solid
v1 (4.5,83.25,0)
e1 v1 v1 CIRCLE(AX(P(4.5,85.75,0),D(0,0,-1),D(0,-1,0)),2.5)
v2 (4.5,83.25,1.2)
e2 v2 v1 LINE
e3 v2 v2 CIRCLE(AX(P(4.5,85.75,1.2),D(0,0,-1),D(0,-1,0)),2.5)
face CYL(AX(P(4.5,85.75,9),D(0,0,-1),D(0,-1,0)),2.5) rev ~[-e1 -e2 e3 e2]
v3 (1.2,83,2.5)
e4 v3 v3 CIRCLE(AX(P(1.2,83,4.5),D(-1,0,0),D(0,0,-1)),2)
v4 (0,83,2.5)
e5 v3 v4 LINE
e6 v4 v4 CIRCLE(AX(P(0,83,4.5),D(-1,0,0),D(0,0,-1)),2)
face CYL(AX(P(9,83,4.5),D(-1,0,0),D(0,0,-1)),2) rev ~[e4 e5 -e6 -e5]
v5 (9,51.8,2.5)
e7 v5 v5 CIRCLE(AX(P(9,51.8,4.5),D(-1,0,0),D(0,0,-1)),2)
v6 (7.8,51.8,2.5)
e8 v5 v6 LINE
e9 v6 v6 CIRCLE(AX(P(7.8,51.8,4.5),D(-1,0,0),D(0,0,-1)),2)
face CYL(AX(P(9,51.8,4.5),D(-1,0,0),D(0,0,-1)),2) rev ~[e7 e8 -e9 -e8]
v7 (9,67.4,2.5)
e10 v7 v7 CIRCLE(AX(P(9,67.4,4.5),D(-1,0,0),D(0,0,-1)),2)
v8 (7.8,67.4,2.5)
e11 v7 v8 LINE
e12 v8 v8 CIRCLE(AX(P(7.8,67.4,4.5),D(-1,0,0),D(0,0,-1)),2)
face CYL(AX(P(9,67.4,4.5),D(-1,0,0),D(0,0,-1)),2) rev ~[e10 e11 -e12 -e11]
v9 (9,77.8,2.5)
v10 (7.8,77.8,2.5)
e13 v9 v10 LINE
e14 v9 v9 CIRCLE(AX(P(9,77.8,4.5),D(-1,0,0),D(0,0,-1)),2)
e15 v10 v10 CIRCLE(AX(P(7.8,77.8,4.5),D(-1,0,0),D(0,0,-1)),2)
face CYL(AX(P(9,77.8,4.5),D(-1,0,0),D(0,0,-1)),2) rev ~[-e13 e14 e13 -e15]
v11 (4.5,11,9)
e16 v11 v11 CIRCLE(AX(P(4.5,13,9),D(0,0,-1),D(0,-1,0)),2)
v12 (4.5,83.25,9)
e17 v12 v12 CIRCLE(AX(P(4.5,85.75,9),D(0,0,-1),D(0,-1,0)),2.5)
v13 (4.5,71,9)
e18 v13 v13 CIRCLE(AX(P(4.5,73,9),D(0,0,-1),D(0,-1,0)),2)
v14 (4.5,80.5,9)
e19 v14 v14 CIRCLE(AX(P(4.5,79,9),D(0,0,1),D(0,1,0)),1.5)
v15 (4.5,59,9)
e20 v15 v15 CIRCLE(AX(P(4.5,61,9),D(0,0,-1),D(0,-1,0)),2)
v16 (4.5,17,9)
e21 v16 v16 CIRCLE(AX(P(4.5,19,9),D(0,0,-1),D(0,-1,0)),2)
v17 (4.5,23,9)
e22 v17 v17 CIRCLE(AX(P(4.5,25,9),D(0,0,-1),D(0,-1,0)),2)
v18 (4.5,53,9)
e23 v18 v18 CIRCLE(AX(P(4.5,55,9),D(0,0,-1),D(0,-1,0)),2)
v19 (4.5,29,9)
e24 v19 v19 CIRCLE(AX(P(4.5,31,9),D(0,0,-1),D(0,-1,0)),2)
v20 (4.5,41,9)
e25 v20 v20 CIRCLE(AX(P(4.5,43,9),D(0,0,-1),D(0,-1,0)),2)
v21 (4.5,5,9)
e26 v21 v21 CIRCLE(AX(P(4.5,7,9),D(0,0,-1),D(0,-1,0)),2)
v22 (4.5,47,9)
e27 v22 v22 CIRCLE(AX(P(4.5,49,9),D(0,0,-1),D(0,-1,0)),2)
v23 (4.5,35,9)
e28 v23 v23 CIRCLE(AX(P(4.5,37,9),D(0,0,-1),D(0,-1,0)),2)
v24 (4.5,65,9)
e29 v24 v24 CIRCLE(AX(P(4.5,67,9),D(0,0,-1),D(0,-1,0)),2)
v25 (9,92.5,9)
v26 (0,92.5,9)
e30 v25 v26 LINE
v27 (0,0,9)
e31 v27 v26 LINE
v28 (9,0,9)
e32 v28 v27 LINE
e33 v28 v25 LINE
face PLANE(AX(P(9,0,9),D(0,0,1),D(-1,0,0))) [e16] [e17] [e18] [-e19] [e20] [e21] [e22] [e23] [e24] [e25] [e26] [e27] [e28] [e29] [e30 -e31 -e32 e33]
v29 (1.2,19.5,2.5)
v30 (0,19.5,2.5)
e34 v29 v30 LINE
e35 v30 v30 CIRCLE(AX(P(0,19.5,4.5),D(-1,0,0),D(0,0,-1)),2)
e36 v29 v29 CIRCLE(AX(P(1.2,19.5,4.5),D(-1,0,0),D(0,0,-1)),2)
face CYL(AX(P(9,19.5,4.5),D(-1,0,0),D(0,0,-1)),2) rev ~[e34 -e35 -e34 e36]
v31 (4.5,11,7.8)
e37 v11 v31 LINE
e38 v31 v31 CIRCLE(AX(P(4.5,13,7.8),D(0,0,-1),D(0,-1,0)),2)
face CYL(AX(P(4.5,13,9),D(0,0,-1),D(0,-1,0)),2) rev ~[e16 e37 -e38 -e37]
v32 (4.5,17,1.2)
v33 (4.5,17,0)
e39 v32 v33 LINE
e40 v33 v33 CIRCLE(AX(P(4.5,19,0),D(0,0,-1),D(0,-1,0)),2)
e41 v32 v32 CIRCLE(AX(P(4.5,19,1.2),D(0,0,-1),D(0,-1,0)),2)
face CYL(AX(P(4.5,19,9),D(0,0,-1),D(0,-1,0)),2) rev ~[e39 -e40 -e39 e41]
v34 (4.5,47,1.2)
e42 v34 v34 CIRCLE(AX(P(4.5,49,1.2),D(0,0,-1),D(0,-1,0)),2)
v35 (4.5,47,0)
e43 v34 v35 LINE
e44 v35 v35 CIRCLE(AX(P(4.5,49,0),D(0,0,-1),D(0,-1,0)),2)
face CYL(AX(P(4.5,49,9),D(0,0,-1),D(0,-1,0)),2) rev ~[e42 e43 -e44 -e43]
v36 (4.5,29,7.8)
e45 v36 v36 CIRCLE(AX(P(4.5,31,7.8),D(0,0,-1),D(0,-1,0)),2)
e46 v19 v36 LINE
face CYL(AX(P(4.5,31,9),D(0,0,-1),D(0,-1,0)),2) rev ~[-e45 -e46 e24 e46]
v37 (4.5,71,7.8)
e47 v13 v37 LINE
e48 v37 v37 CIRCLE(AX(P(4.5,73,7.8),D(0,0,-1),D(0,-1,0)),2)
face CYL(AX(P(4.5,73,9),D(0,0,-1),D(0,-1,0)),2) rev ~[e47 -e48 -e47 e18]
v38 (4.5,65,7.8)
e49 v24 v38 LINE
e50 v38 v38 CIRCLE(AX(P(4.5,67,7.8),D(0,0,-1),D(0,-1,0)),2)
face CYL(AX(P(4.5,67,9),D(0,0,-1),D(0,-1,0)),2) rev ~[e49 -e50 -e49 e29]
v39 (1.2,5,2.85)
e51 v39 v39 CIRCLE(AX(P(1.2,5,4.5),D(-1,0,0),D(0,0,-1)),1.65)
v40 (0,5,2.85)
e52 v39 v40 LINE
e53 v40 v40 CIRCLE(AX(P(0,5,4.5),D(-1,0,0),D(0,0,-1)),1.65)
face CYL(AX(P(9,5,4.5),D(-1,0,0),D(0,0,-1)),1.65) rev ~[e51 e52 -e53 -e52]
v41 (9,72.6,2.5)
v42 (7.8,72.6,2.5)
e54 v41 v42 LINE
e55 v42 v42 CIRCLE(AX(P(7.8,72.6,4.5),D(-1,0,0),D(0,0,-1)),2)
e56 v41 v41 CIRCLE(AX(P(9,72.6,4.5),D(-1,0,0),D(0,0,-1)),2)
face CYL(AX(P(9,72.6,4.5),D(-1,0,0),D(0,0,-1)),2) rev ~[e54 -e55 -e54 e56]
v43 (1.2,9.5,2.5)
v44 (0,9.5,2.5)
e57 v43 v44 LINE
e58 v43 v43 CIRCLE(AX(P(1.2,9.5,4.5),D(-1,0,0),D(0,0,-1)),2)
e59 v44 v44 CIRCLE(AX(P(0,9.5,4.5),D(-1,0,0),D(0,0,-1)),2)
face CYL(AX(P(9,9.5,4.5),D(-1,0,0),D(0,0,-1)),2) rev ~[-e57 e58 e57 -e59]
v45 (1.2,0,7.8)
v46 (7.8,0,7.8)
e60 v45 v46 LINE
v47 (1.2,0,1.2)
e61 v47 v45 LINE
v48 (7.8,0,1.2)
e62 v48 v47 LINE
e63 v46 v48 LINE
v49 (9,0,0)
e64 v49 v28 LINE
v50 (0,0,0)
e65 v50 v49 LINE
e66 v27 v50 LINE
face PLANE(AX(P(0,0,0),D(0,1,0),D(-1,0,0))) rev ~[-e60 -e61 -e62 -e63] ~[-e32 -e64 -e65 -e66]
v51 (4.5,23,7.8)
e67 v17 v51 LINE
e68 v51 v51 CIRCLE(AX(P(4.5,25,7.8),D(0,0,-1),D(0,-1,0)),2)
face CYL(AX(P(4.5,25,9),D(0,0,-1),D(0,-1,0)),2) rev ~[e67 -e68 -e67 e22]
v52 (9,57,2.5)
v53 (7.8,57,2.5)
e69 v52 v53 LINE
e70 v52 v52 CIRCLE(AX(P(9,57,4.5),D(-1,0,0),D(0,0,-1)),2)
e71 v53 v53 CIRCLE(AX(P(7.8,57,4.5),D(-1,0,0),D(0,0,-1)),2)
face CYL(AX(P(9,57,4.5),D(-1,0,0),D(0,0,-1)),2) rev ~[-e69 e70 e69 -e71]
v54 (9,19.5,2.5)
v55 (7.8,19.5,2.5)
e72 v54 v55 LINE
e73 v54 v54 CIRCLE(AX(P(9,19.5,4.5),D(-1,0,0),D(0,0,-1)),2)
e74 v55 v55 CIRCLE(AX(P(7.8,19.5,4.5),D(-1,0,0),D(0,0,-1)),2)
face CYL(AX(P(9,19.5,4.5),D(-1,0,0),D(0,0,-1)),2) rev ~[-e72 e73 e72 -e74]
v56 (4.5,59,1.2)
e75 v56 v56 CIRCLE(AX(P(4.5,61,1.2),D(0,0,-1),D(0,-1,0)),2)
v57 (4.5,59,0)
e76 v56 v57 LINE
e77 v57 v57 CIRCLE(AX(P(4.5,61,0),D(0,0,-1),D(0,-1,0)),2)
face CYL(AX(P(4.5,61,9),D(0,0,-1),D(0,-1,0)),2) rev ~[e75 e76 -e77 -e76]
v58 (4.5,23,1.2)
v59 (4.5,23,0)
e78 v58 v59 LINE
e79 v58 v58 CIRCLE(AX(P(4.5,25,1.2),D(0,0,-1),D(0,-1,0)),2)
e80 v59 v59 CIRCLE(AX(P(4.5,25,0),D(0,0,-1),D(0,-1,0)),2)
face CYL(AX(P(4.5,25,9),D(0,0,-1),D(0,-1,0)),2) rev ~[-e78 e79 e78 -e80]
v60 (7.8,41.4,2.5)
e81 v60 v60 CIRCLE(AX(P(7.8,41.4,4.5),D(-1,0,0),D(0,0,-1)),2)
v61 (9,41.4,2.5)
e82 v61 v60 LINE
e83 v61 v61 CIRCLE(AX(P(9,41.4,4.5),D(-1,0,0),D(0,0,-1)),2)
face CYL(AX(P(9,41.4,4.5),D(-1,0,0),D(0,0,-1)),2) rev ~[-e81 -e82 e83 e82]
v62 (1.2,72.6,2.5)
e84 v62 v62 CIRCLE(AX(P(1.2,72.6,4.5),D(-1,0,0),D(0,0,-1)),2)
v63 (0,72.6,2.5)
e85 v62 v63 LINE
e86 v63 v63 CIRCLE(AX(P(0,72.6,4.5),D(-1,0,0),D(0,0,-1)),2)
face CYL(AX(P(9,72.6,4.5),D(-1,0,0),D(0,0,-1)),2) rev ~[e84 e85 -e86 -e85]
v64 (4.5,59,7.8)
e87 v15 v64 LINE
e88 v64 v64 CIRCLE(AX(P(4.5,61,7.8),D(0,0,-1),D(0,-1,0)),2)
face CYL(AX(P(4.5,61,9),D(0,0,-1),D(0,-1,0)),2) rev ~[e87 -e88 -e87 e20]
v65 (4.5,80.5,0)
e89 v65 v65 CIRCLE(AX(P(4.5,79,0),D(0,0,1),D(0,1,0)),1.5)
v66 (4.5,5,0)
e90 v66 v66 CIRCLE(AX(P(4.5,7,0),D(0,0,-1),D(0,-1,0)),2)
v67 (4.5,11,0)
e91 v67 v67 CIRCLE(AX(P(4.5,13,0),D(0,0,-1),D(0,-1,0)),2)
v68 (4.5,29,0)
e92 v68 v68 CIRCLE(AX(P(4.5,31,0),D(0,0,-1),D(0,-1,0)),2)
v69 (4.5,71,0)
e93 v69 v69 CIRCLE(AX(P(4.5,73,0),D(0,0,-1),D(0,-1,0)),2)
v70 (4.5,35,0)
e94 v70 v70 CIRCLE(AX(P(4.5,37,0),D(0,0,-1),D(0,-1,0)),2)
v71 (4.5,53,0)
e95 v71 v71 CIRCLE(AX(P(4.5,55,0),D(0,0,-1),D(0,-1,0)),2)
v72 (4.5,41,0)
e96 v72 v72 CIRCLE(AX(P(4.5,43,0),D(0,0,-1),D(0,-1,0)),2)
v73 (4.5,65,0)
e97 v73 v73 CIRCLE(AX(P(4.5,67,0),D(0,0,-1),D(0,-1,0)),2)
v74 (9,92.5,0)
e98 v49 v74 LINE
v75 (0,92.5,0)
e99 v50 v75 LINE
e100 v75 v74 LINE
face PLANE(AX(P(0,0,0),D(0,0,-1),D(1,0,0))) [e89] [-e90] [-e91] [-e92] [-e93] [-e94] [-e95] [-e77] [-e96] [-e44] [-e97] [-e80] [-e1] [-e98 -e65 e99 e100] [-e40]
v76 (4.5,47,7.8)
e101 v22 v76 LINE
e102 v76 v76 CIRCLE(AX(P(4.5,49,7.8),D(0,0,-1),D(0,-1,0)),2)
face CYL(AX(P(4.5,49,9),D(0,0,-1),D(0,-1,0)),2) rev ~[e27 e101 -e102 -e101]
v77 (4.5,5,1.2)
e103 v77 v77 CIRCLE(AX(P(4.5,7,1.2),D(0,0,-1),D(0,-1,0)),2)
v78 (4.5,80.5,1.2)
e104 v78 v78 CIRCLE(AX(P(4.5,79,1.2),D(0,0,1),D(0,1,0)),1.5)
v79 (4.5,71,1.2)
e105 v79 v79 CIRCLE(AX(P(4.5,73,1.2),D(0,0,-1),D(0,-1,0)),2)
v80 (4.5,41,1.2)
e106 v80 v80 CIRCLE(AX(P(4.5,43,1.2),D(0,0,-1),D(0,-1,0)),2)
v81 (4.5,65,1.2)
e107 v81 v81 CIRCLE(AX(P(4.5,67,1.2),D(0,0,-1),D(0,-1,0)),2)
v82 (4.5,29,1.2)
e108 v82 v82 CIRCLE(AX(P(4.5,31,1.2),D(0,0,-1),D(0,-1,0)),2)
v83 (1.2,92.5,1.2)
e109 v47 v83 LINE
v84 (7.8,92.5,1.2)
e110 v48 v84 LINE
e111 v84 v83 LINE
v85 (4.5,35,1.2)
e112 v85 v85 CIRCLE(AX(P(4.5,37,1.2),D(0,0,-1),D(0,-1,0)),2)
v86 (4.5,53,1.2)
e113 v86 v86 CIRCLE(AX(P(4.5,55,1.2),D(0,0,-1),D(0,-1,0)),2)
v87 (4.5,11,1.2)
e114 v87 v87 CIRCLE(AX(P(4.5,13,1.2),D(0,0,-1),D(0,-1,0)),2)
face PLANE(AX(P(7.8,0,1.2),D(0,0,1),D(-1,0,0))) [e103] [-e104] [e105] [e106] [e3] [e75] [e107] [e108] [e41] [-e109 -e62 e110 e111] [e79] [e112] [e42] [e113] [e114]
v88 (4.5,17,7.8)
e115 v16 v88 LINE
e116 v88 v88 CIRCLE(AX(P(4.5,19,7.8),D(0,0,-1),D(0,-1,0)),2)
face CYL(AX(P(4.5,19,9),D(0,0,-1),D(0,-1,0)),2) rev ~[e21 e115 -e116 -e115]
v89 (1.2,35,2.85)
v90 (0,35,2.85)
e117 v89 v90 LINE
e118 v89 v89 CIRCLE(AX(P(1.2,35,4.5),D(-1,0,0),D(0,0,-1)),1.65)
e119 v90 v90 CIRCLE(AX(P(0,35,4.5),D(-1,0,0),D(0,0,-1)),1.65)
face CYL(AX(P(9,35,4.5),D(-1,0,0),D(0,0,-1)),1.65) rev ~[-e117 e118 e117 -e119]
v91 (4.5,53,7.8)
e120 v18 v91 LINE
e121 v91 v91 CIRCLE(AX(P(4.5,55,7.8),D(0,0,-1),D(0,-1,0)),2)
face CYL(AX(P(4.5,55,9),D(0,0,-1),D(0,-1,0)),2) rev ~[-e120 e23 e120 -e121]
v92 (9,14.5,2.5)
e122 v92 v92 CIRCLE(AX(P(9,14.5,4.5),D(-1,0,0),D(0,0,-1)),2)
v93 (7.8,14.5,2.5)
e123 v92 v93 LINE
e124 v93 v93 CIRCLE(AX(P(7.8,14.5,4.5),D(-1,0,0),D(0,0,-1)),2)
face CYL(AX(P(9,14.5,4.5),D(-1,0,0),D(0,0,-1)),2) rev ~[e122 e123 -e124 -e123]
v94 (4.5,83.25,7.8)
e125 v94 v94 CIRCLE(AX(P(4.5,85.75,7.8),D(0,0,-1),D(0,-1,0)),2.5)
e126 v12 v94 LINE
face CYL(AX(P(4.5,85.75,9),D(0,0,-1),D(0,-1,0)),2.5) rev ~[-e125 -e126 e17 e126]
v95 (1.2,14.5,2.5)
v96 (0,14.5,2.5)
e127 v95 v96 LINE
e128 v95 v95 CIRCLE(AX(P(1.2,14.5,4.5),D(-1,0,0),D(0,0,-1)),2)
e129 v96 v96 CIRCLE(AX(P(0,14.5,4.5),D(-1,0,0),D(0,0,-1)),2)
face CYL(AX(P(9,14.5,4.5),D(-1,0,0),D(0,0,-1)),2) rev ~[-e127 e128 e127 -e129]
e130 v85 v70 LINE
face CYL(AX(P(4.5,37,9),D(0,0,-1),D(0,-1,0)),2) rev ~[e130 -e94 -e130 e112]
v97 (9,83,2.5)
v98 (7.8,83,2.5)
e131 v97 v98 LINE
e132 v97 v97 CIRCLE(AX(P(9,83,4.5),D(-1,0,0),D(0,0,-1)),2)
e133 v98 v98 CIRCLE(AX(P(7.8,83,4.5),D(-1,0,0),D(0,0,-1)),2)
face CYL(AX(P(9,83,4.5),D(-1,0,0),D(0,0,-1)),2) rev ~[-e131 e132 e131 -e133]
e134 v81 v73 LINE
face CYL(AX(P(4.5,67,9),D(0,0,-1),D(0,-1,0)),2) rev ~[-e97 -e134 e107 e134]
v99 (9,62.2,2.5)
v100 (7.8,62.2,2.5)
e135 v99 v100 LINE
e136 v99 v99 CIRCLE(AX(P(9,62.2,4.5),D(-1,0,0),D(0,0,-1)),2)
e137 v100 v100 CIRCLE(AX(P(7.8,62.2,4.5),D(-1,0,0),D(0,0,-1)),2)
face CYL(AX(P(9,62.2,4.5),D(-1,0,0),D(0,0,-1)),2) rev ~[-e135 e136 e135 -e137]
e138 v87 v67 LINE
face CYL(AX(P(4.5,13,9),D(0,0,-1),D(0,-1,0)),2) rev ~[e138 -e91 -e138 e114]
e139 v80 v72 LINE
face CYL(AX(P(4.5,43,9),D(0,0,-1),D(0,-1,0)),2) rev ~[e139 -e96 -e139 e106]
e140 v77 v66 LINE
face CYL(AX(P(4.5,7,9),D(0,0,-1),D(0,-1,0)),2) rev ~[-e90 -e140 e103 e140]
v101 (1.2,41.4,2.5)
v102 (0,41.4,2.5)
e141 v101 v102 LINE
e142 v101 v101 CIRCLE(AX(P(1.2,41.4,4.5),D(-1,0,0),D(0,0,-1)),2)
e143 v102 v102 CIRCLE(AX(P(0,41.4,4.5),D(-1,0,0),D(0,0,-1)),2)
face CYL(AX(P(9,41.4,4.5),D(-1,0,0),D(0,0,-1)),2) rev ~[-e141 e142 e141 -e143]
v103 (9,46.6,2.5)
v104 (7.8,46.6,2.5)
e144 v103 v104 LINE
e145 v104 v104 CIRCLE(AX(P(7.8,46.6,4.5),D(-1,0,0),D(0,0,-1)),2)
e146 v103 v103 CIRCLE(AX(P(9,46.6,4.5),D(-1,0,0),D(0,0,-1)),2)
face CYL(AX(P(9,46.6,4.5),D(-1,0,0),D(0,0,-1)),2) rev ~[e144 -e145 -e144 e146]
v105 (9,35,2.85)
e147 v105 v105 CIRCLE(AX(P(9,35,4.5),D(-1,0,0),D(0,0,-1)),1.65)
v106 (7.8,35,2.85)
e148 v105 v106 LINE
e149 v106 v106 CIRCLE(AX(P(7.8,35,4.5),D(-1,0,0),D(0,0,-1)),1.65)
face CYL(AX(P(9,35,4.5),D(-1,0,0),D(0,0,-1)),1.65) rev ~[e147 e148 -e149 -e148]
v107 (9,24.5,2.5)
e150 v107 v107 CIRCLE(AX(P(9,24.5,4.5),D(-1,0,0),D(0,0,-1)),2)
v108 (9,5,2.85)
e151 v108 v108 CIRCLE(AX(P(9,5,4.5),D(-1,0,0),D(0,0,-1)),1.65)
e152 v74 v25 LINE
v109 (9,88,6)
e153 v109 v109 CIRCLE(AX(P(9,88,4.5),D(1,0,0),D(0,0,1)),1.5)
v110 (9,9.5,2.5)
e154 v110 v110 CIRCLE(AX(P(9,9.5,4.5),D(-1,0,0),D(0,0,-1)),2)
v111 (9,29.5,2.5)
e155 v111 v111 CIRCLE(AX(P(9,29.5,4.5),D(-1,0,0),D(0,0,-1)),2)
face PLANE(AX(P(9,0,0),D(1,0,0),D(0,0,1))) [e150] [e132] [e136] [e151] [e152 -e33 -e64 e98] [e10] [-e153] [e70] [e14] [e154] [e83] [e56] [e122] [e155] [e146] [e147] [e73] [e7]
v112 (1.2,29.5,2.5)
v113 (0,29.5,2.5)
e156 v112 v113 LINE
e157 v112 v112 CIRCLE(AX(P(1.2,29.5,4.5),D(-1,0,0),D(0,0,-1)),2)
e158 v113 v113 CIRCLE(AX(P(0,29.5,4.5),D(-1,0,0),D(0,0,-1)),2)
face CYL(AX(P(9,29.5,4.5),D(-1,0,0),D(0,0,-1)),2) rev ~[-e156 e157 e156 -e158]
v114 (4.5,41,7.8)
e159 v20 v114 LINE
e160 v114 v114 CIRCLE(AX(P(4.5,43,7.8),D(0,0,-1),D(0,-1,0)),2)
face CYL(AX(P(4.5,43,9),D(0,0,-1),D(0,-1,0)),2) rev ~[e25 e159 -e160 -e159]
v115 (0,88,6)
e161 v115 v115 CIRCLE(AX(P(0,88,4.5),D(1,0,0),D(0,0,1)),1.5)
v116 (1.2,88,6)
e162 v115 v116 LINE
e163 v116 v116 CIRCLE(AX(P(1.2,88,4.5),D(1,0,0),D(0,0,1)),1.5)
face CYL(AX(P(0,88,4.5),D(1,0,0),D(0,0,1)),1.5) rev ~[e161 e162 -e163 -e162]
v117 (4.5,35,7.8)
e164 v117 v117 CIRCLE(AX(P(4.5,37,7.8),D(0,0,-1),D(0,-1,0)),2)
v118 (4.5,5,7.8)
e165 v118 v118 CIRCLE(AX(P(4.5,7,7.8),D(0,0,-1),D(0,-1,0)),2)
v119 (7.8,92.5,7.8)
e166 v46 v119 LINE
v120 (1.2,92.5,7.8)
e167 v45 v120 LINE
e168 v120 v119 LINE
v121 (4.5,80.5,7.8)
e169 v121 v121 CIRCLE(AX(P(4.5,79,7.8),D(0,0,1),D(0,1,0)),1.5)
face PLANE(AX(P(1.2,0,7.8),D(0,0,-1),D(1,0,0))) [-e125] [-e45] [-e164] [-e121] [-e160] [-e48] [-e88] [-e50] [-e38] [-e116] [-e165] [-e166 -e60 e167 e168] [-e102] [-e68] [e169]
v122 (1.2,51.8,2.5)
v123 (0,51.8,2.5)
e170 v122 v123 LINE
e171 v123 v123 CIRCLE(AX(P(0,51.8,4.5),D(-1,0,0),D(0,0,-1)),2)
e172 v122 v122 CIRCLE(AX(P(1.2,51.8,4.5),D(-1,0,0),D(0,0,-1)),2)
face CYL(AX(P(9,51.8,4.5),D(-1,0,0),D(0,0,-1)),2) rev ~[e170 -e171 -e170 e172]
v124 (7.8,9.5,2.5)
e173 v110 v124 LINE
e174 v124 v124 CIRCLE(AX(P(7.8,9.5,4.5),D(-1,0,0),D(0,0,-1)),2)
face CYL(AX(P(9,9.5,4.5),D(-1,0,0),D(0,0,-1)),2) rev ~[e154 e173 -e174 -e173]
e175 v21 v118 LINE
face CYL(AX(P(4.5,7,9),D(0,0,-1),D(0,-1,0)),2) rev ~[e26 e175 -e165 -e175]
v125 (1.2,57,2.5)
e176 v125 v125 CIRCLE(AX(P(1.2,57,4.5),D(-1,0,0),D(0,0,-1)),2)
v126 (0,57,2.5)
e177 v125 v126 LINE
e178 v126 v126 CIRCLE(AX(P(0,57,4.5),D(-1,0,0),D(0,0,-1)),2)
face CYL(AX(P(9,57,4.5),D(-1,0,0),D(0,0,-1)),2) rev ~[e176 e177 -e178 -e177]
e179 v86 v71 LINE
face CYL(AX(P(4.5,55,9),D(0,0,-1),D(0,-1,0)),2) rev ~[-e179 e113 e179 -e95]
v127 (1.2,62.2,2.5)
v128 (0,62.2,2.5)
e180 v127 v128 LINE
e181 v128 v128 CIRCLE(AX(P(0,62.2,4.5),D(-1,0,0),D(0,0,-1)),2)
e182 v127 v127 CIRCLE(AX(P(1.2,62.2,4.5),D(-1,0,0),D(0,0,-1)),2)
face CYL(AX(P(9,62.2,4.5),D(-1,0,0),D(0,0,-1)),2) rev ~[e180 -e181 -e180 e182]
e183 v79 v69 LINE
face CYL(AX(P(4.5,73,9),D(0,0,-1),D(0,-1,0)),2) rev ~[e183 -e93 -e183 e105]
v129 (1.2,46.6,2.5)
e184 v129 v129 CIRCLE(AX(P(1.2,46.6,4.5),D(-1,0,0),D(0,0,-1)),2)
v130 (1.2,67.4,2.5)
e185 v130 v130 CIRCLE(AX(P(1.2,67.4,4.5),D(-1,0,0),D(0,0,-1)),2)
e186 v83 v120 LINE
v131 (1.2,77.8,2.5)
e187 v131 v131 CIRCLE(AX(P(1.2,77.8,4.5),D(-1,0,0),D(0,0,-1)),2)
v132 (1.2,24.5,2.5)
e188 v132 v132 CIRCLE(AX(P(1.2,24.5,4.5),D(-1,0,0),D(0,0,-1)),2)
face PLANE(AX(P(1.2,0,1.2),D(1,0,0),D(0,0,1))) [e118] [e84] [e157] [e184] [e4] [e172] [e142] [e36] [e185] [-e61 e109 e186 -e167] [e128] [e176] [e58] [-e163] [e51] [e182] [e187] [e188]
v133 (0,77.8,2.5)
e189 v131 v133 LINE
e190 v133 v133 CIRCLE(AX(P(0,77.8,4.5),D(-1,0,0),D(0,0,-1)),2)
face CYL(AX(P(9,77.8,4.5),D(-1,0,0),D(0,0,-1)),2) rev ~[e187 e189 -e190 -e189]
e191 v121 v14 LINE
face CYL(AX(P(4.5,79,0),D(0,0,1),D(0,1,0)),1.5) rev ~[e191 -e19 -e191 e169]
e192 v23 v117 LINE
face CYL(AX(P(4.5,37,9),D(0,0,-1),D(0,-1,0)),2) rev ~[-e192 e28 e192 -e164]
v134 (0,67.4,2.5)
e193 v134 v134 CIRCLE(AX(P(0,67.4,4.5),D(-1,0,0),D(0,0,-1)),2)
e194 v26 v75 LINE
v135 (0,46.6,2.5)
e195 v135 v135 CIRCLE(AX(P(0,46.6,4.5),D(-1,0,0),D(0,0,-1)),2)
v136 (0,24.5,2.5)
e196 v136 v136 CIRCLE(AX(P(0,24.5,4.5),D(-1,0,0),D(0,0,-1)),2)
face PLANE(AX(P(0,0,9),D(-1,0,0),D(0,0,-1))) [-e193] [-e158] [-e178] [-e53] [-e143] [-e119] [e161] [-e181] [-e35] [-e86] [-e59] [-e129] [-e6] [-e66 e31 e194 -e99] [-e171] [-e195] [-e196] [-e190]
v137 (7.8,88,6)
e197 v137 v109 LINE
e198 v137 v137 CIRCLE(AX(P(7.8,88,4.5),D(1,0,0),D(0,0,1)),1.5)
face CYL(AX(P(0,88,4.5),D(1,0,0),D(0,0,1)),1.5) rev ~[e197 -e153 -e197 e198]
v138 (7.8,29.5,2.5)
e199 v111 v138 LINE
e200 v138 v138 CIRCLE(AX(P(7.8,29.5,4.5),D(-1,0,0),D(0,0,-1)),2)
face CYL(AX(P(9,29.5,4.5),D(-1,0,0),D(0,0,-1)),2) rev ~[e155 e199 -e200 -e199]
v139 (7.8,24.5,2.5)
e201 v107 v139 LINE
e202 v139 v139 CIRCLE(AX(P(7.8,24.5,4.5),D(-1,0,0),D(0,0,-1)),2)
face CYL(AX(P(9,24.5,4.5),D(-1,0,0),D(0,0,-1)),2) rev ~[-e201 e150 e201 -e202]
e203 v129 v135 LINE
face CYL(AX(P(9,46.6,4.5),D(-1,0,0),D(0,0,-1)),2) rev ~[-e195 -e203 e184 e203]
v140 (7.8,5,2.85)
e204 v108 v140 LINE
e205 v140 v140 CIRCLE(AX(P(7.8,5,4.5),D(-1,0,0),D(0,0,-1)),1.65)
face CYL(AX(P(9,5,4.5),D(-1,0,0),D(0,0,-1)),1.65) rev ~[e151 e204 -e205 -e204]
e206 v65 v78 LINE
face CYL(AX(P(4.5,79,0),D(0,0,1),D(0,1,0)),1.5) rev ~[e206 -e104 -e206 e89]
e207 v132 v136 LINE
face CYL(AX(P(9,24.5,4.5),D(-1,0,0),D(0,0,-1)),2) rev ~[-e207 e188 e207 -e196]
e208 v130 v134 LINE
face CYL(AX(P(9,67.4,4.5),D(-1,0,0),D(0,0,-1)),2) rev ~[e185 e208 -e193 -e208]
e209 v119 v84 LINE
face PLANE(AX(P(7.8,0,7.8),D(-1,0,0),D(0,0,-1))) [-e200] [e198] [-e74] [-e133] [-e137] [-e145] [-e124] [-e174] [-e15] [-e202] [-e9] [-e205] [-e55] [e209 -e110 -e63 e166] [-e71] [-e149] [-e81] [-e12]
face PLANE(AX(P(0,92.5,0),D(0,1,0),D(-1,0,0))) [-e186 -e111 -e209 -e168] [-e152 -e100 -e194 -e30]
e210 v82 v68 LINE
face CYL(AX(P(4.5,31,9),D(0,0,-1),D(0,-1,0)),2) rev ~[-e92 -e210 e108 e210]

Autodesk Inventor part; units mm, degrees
ref_plane "YZ Plane" through (0, 0, 0) normal (1, 0, 0) x (0, 1, 0)
ref_plane "XZ Plane" through (0, 0, 0) normal (0, 1, 0) x (-1, 0, 0)
ref_plane "XY Plane" through (0, 0, 0) normal (0, 0, 1) x (1, 0, 0)
sketch "スケッチ1" plane through (0, 0, 0) normal (0, 1, 0) x (-1, 0, 0)
  line L0 (0, 0) -> (-9, 0)
  line L1 (-9, 0) -> (-9, 9)
  line L2 (-9, 9) -> (0, 9)
  line L3 (0, 9) -> (0, 0)
  line L4 (-1.2, 7.8) -> (-7.8, 7.8)
  line L5 (-7.8, 7.8) -> (-7.8, 1.2)
  line L6 (-7.8, 1.2) -> (-1.2, 1.2)
  line L7 (-1.2, 1.2) -> (-1.2, 7.8)
  dimension "d0" = 9
  dimension "d1" = 9
  dimension "d2" = 1.2
  dimension "d3" = 1.2
  dimension "d4" = 1.2
  dimension "d5" = 1.2
extrude "押し出し1" add sketch "スケッチ1" along normal blind 92.5
sketch "スケッチ2" plane through (9, 0, 9) normal (1, 0, 0) x (0, 0, -1)
  line L0 (0, 0) -> (9, 0) projected
  line L1 (0, 0) -> (0, 92.5) projected
  point P0 (4.5, 5)
  point P1 (4.5, 35)
  dimension "d8" = 30
  dimension "d9" = 5
  dimension "d10" = 4.5
  dimension "d11" = 4.5
hole "穴1" at (9, 5, 4.5) at (9, 35, 4.5) direction (-1, 0, 0) diameter 3.3 end through all
sketch "スケッチ5" plane through (9, 0, 0) normal (0, 0, -1) x (-1, 0, 0)
  line L0 (0, 92.5) -> (9, 92.5) projected
  line L1 (9, 0) -> (9, 92.5) projected
  point P0 (4.5, 79)
  dimension "d41" = 13.5
  dimension "d42" = 4.5
hole "穴4" at (4.5, 79, 0) direction (0, 0, 1) diameter 3 end through all
sketch "スケッチ6" plane through (0, 0, 0) normal (-1, 0, 0) x (0, 0, 1)
  line L0 (0, 92.5) -> (9, 92.5) projected
  line L1 (0, 0) -> (0, 92.5) projected
  point P0 (4.5, 88)
  dimension "d50" = 4.5
  dimension "d51" = 4.5
hole "穴5" at (0, 88, 4.5) direction (1, 0, 0) diameter 3 end through all
sketch "スケッチ7" plane through (0, 0, 9) normal (0, 0, 1) x (1, 0, 0)
  circle A0 centre (4.5, 79) radius 1.5 projected
  line L0 (0, 0) -> (0, 92.5) projected
  point P0 (4.5, 73)
  point P1 (4.5, 67)
  point P2 (4.5, 61)
  point P3 (4.5, 55)
  point P4 (4.5, 49)
  point P5 (4.5, 43)
  point P6 (4.5, 37)
  point P7 (4.5, 31)
  point P8 (4.5, 25)
  point P9 (4.5, 19)
  point P10 (4.5, 13)
  point P11 (4.5, 7)
  dimension "d59" = 6
  dimension "d60" = 4.5
  dimension "d63" = 6
  dimension "d70" = 6
  dimension "d77" = 6
hole "穴6" at (4.5, 73, 9) at (4.5, 67, 9) at (4.5, 61, 9) at (4.5, 55, 9) at (4.5, 49, 9) at (4.5, 43, 9) at (4.5, 37, 9) at (4.5, 31, 9) at (4.5, 25, 9) at (4.5, 19, 9) at (4.5, 13, 9) at (4.5, 7, 9) direction (0, 0, -1) diameter 4 end through all
sketch "スケッチ8" plane through (9, 0, 9) normal (1, 0, 0) x (0, 0, -1)
  line L0 (0, 0) -> (0, 92.5) projected
  circle A0 centre (4.5, 5) radius 1.65 projected
  point P0 (9, 0)
  point P1 (4.5, 9.5)
  point P2 (4.5, 14.5)
  point P3 (4.5, 19.5)
  point P4 (4.5, 24.5)
  point P5 (4.5, 29.5)
  dimension "d89" = 4.5
  dimension "d90" = 4.5
  dimension "d93" = 5
hole "穴7" at (9, 9.5, 4.5) at (9, 14.5, 4.5) at (9, 19.5, 4.5) at (9, 24.5, 4.5) at (9, 29.5, 4.5) direction (-1, 0, 0) diameter 4 end through all
sketch "スケッチ9" plane through (9, 0, 9) normal (1, 0, 0) x (0, 0, -1)
  line L0 (0, 0) -> (0, 92.5) projected
  circle A0 centre (4.5, 88) radius 1.5 projected
  point P0 (9, 0)
  point P1 (4.5, 83)
  point P2 (4.5, 77.8)
  point P3 (4.5, 72.6)
  point P4 (4.5, 67.4)
  point P5 (4.5, 62.2)
  point P6 (4.5, 57)
  point P7 (4.5, 51.8)
  point P8 (4.5, 46.6)
  point P9 (4.5, 41.4)
  dimension "d105" = 4.5
  dimension "d106" = 5
  dimension "d109" = 5.2
hole "穴8" at (9, 83, 4.5) at (9, 77.8, 4.5) at (9, 72.6, 4.5) at (9, 67.4, 4.5) at (9, 62.2, 4.5) at (9, 57, 4.5) at (9, 51.8, 4.5) at (9, 46.6, 4.5) at (9, 41.4, 4.5) direction (-1, 0, 0) diameter 4 end through all
sketch "スケッチ10" plane through (0, 0, 9) normal (0, 0, 1) x (1, 0, 0)
  line L0 (9, 0) -> (9, 92.5) projected
  line L1 (0, 92.5) -> (9, 92.5) projected
  point P0 (0, 0)
  point P1 (4.5, 85.75)
  dimension "d121" = 4.5
  dimension "d122" = 6.75
hole "穴9" at (4.5, 85.75, 9) direction (0, 0, -1) diameter 5 end through all
equation "\"d3\" = d2"
equation "\"d4\" = d2"
equation "\"d5\" = d3"
equation "\"d51\" = d50"
properties part number "ハンド9x9_1_CPY" material "アルミニウム 6061"
